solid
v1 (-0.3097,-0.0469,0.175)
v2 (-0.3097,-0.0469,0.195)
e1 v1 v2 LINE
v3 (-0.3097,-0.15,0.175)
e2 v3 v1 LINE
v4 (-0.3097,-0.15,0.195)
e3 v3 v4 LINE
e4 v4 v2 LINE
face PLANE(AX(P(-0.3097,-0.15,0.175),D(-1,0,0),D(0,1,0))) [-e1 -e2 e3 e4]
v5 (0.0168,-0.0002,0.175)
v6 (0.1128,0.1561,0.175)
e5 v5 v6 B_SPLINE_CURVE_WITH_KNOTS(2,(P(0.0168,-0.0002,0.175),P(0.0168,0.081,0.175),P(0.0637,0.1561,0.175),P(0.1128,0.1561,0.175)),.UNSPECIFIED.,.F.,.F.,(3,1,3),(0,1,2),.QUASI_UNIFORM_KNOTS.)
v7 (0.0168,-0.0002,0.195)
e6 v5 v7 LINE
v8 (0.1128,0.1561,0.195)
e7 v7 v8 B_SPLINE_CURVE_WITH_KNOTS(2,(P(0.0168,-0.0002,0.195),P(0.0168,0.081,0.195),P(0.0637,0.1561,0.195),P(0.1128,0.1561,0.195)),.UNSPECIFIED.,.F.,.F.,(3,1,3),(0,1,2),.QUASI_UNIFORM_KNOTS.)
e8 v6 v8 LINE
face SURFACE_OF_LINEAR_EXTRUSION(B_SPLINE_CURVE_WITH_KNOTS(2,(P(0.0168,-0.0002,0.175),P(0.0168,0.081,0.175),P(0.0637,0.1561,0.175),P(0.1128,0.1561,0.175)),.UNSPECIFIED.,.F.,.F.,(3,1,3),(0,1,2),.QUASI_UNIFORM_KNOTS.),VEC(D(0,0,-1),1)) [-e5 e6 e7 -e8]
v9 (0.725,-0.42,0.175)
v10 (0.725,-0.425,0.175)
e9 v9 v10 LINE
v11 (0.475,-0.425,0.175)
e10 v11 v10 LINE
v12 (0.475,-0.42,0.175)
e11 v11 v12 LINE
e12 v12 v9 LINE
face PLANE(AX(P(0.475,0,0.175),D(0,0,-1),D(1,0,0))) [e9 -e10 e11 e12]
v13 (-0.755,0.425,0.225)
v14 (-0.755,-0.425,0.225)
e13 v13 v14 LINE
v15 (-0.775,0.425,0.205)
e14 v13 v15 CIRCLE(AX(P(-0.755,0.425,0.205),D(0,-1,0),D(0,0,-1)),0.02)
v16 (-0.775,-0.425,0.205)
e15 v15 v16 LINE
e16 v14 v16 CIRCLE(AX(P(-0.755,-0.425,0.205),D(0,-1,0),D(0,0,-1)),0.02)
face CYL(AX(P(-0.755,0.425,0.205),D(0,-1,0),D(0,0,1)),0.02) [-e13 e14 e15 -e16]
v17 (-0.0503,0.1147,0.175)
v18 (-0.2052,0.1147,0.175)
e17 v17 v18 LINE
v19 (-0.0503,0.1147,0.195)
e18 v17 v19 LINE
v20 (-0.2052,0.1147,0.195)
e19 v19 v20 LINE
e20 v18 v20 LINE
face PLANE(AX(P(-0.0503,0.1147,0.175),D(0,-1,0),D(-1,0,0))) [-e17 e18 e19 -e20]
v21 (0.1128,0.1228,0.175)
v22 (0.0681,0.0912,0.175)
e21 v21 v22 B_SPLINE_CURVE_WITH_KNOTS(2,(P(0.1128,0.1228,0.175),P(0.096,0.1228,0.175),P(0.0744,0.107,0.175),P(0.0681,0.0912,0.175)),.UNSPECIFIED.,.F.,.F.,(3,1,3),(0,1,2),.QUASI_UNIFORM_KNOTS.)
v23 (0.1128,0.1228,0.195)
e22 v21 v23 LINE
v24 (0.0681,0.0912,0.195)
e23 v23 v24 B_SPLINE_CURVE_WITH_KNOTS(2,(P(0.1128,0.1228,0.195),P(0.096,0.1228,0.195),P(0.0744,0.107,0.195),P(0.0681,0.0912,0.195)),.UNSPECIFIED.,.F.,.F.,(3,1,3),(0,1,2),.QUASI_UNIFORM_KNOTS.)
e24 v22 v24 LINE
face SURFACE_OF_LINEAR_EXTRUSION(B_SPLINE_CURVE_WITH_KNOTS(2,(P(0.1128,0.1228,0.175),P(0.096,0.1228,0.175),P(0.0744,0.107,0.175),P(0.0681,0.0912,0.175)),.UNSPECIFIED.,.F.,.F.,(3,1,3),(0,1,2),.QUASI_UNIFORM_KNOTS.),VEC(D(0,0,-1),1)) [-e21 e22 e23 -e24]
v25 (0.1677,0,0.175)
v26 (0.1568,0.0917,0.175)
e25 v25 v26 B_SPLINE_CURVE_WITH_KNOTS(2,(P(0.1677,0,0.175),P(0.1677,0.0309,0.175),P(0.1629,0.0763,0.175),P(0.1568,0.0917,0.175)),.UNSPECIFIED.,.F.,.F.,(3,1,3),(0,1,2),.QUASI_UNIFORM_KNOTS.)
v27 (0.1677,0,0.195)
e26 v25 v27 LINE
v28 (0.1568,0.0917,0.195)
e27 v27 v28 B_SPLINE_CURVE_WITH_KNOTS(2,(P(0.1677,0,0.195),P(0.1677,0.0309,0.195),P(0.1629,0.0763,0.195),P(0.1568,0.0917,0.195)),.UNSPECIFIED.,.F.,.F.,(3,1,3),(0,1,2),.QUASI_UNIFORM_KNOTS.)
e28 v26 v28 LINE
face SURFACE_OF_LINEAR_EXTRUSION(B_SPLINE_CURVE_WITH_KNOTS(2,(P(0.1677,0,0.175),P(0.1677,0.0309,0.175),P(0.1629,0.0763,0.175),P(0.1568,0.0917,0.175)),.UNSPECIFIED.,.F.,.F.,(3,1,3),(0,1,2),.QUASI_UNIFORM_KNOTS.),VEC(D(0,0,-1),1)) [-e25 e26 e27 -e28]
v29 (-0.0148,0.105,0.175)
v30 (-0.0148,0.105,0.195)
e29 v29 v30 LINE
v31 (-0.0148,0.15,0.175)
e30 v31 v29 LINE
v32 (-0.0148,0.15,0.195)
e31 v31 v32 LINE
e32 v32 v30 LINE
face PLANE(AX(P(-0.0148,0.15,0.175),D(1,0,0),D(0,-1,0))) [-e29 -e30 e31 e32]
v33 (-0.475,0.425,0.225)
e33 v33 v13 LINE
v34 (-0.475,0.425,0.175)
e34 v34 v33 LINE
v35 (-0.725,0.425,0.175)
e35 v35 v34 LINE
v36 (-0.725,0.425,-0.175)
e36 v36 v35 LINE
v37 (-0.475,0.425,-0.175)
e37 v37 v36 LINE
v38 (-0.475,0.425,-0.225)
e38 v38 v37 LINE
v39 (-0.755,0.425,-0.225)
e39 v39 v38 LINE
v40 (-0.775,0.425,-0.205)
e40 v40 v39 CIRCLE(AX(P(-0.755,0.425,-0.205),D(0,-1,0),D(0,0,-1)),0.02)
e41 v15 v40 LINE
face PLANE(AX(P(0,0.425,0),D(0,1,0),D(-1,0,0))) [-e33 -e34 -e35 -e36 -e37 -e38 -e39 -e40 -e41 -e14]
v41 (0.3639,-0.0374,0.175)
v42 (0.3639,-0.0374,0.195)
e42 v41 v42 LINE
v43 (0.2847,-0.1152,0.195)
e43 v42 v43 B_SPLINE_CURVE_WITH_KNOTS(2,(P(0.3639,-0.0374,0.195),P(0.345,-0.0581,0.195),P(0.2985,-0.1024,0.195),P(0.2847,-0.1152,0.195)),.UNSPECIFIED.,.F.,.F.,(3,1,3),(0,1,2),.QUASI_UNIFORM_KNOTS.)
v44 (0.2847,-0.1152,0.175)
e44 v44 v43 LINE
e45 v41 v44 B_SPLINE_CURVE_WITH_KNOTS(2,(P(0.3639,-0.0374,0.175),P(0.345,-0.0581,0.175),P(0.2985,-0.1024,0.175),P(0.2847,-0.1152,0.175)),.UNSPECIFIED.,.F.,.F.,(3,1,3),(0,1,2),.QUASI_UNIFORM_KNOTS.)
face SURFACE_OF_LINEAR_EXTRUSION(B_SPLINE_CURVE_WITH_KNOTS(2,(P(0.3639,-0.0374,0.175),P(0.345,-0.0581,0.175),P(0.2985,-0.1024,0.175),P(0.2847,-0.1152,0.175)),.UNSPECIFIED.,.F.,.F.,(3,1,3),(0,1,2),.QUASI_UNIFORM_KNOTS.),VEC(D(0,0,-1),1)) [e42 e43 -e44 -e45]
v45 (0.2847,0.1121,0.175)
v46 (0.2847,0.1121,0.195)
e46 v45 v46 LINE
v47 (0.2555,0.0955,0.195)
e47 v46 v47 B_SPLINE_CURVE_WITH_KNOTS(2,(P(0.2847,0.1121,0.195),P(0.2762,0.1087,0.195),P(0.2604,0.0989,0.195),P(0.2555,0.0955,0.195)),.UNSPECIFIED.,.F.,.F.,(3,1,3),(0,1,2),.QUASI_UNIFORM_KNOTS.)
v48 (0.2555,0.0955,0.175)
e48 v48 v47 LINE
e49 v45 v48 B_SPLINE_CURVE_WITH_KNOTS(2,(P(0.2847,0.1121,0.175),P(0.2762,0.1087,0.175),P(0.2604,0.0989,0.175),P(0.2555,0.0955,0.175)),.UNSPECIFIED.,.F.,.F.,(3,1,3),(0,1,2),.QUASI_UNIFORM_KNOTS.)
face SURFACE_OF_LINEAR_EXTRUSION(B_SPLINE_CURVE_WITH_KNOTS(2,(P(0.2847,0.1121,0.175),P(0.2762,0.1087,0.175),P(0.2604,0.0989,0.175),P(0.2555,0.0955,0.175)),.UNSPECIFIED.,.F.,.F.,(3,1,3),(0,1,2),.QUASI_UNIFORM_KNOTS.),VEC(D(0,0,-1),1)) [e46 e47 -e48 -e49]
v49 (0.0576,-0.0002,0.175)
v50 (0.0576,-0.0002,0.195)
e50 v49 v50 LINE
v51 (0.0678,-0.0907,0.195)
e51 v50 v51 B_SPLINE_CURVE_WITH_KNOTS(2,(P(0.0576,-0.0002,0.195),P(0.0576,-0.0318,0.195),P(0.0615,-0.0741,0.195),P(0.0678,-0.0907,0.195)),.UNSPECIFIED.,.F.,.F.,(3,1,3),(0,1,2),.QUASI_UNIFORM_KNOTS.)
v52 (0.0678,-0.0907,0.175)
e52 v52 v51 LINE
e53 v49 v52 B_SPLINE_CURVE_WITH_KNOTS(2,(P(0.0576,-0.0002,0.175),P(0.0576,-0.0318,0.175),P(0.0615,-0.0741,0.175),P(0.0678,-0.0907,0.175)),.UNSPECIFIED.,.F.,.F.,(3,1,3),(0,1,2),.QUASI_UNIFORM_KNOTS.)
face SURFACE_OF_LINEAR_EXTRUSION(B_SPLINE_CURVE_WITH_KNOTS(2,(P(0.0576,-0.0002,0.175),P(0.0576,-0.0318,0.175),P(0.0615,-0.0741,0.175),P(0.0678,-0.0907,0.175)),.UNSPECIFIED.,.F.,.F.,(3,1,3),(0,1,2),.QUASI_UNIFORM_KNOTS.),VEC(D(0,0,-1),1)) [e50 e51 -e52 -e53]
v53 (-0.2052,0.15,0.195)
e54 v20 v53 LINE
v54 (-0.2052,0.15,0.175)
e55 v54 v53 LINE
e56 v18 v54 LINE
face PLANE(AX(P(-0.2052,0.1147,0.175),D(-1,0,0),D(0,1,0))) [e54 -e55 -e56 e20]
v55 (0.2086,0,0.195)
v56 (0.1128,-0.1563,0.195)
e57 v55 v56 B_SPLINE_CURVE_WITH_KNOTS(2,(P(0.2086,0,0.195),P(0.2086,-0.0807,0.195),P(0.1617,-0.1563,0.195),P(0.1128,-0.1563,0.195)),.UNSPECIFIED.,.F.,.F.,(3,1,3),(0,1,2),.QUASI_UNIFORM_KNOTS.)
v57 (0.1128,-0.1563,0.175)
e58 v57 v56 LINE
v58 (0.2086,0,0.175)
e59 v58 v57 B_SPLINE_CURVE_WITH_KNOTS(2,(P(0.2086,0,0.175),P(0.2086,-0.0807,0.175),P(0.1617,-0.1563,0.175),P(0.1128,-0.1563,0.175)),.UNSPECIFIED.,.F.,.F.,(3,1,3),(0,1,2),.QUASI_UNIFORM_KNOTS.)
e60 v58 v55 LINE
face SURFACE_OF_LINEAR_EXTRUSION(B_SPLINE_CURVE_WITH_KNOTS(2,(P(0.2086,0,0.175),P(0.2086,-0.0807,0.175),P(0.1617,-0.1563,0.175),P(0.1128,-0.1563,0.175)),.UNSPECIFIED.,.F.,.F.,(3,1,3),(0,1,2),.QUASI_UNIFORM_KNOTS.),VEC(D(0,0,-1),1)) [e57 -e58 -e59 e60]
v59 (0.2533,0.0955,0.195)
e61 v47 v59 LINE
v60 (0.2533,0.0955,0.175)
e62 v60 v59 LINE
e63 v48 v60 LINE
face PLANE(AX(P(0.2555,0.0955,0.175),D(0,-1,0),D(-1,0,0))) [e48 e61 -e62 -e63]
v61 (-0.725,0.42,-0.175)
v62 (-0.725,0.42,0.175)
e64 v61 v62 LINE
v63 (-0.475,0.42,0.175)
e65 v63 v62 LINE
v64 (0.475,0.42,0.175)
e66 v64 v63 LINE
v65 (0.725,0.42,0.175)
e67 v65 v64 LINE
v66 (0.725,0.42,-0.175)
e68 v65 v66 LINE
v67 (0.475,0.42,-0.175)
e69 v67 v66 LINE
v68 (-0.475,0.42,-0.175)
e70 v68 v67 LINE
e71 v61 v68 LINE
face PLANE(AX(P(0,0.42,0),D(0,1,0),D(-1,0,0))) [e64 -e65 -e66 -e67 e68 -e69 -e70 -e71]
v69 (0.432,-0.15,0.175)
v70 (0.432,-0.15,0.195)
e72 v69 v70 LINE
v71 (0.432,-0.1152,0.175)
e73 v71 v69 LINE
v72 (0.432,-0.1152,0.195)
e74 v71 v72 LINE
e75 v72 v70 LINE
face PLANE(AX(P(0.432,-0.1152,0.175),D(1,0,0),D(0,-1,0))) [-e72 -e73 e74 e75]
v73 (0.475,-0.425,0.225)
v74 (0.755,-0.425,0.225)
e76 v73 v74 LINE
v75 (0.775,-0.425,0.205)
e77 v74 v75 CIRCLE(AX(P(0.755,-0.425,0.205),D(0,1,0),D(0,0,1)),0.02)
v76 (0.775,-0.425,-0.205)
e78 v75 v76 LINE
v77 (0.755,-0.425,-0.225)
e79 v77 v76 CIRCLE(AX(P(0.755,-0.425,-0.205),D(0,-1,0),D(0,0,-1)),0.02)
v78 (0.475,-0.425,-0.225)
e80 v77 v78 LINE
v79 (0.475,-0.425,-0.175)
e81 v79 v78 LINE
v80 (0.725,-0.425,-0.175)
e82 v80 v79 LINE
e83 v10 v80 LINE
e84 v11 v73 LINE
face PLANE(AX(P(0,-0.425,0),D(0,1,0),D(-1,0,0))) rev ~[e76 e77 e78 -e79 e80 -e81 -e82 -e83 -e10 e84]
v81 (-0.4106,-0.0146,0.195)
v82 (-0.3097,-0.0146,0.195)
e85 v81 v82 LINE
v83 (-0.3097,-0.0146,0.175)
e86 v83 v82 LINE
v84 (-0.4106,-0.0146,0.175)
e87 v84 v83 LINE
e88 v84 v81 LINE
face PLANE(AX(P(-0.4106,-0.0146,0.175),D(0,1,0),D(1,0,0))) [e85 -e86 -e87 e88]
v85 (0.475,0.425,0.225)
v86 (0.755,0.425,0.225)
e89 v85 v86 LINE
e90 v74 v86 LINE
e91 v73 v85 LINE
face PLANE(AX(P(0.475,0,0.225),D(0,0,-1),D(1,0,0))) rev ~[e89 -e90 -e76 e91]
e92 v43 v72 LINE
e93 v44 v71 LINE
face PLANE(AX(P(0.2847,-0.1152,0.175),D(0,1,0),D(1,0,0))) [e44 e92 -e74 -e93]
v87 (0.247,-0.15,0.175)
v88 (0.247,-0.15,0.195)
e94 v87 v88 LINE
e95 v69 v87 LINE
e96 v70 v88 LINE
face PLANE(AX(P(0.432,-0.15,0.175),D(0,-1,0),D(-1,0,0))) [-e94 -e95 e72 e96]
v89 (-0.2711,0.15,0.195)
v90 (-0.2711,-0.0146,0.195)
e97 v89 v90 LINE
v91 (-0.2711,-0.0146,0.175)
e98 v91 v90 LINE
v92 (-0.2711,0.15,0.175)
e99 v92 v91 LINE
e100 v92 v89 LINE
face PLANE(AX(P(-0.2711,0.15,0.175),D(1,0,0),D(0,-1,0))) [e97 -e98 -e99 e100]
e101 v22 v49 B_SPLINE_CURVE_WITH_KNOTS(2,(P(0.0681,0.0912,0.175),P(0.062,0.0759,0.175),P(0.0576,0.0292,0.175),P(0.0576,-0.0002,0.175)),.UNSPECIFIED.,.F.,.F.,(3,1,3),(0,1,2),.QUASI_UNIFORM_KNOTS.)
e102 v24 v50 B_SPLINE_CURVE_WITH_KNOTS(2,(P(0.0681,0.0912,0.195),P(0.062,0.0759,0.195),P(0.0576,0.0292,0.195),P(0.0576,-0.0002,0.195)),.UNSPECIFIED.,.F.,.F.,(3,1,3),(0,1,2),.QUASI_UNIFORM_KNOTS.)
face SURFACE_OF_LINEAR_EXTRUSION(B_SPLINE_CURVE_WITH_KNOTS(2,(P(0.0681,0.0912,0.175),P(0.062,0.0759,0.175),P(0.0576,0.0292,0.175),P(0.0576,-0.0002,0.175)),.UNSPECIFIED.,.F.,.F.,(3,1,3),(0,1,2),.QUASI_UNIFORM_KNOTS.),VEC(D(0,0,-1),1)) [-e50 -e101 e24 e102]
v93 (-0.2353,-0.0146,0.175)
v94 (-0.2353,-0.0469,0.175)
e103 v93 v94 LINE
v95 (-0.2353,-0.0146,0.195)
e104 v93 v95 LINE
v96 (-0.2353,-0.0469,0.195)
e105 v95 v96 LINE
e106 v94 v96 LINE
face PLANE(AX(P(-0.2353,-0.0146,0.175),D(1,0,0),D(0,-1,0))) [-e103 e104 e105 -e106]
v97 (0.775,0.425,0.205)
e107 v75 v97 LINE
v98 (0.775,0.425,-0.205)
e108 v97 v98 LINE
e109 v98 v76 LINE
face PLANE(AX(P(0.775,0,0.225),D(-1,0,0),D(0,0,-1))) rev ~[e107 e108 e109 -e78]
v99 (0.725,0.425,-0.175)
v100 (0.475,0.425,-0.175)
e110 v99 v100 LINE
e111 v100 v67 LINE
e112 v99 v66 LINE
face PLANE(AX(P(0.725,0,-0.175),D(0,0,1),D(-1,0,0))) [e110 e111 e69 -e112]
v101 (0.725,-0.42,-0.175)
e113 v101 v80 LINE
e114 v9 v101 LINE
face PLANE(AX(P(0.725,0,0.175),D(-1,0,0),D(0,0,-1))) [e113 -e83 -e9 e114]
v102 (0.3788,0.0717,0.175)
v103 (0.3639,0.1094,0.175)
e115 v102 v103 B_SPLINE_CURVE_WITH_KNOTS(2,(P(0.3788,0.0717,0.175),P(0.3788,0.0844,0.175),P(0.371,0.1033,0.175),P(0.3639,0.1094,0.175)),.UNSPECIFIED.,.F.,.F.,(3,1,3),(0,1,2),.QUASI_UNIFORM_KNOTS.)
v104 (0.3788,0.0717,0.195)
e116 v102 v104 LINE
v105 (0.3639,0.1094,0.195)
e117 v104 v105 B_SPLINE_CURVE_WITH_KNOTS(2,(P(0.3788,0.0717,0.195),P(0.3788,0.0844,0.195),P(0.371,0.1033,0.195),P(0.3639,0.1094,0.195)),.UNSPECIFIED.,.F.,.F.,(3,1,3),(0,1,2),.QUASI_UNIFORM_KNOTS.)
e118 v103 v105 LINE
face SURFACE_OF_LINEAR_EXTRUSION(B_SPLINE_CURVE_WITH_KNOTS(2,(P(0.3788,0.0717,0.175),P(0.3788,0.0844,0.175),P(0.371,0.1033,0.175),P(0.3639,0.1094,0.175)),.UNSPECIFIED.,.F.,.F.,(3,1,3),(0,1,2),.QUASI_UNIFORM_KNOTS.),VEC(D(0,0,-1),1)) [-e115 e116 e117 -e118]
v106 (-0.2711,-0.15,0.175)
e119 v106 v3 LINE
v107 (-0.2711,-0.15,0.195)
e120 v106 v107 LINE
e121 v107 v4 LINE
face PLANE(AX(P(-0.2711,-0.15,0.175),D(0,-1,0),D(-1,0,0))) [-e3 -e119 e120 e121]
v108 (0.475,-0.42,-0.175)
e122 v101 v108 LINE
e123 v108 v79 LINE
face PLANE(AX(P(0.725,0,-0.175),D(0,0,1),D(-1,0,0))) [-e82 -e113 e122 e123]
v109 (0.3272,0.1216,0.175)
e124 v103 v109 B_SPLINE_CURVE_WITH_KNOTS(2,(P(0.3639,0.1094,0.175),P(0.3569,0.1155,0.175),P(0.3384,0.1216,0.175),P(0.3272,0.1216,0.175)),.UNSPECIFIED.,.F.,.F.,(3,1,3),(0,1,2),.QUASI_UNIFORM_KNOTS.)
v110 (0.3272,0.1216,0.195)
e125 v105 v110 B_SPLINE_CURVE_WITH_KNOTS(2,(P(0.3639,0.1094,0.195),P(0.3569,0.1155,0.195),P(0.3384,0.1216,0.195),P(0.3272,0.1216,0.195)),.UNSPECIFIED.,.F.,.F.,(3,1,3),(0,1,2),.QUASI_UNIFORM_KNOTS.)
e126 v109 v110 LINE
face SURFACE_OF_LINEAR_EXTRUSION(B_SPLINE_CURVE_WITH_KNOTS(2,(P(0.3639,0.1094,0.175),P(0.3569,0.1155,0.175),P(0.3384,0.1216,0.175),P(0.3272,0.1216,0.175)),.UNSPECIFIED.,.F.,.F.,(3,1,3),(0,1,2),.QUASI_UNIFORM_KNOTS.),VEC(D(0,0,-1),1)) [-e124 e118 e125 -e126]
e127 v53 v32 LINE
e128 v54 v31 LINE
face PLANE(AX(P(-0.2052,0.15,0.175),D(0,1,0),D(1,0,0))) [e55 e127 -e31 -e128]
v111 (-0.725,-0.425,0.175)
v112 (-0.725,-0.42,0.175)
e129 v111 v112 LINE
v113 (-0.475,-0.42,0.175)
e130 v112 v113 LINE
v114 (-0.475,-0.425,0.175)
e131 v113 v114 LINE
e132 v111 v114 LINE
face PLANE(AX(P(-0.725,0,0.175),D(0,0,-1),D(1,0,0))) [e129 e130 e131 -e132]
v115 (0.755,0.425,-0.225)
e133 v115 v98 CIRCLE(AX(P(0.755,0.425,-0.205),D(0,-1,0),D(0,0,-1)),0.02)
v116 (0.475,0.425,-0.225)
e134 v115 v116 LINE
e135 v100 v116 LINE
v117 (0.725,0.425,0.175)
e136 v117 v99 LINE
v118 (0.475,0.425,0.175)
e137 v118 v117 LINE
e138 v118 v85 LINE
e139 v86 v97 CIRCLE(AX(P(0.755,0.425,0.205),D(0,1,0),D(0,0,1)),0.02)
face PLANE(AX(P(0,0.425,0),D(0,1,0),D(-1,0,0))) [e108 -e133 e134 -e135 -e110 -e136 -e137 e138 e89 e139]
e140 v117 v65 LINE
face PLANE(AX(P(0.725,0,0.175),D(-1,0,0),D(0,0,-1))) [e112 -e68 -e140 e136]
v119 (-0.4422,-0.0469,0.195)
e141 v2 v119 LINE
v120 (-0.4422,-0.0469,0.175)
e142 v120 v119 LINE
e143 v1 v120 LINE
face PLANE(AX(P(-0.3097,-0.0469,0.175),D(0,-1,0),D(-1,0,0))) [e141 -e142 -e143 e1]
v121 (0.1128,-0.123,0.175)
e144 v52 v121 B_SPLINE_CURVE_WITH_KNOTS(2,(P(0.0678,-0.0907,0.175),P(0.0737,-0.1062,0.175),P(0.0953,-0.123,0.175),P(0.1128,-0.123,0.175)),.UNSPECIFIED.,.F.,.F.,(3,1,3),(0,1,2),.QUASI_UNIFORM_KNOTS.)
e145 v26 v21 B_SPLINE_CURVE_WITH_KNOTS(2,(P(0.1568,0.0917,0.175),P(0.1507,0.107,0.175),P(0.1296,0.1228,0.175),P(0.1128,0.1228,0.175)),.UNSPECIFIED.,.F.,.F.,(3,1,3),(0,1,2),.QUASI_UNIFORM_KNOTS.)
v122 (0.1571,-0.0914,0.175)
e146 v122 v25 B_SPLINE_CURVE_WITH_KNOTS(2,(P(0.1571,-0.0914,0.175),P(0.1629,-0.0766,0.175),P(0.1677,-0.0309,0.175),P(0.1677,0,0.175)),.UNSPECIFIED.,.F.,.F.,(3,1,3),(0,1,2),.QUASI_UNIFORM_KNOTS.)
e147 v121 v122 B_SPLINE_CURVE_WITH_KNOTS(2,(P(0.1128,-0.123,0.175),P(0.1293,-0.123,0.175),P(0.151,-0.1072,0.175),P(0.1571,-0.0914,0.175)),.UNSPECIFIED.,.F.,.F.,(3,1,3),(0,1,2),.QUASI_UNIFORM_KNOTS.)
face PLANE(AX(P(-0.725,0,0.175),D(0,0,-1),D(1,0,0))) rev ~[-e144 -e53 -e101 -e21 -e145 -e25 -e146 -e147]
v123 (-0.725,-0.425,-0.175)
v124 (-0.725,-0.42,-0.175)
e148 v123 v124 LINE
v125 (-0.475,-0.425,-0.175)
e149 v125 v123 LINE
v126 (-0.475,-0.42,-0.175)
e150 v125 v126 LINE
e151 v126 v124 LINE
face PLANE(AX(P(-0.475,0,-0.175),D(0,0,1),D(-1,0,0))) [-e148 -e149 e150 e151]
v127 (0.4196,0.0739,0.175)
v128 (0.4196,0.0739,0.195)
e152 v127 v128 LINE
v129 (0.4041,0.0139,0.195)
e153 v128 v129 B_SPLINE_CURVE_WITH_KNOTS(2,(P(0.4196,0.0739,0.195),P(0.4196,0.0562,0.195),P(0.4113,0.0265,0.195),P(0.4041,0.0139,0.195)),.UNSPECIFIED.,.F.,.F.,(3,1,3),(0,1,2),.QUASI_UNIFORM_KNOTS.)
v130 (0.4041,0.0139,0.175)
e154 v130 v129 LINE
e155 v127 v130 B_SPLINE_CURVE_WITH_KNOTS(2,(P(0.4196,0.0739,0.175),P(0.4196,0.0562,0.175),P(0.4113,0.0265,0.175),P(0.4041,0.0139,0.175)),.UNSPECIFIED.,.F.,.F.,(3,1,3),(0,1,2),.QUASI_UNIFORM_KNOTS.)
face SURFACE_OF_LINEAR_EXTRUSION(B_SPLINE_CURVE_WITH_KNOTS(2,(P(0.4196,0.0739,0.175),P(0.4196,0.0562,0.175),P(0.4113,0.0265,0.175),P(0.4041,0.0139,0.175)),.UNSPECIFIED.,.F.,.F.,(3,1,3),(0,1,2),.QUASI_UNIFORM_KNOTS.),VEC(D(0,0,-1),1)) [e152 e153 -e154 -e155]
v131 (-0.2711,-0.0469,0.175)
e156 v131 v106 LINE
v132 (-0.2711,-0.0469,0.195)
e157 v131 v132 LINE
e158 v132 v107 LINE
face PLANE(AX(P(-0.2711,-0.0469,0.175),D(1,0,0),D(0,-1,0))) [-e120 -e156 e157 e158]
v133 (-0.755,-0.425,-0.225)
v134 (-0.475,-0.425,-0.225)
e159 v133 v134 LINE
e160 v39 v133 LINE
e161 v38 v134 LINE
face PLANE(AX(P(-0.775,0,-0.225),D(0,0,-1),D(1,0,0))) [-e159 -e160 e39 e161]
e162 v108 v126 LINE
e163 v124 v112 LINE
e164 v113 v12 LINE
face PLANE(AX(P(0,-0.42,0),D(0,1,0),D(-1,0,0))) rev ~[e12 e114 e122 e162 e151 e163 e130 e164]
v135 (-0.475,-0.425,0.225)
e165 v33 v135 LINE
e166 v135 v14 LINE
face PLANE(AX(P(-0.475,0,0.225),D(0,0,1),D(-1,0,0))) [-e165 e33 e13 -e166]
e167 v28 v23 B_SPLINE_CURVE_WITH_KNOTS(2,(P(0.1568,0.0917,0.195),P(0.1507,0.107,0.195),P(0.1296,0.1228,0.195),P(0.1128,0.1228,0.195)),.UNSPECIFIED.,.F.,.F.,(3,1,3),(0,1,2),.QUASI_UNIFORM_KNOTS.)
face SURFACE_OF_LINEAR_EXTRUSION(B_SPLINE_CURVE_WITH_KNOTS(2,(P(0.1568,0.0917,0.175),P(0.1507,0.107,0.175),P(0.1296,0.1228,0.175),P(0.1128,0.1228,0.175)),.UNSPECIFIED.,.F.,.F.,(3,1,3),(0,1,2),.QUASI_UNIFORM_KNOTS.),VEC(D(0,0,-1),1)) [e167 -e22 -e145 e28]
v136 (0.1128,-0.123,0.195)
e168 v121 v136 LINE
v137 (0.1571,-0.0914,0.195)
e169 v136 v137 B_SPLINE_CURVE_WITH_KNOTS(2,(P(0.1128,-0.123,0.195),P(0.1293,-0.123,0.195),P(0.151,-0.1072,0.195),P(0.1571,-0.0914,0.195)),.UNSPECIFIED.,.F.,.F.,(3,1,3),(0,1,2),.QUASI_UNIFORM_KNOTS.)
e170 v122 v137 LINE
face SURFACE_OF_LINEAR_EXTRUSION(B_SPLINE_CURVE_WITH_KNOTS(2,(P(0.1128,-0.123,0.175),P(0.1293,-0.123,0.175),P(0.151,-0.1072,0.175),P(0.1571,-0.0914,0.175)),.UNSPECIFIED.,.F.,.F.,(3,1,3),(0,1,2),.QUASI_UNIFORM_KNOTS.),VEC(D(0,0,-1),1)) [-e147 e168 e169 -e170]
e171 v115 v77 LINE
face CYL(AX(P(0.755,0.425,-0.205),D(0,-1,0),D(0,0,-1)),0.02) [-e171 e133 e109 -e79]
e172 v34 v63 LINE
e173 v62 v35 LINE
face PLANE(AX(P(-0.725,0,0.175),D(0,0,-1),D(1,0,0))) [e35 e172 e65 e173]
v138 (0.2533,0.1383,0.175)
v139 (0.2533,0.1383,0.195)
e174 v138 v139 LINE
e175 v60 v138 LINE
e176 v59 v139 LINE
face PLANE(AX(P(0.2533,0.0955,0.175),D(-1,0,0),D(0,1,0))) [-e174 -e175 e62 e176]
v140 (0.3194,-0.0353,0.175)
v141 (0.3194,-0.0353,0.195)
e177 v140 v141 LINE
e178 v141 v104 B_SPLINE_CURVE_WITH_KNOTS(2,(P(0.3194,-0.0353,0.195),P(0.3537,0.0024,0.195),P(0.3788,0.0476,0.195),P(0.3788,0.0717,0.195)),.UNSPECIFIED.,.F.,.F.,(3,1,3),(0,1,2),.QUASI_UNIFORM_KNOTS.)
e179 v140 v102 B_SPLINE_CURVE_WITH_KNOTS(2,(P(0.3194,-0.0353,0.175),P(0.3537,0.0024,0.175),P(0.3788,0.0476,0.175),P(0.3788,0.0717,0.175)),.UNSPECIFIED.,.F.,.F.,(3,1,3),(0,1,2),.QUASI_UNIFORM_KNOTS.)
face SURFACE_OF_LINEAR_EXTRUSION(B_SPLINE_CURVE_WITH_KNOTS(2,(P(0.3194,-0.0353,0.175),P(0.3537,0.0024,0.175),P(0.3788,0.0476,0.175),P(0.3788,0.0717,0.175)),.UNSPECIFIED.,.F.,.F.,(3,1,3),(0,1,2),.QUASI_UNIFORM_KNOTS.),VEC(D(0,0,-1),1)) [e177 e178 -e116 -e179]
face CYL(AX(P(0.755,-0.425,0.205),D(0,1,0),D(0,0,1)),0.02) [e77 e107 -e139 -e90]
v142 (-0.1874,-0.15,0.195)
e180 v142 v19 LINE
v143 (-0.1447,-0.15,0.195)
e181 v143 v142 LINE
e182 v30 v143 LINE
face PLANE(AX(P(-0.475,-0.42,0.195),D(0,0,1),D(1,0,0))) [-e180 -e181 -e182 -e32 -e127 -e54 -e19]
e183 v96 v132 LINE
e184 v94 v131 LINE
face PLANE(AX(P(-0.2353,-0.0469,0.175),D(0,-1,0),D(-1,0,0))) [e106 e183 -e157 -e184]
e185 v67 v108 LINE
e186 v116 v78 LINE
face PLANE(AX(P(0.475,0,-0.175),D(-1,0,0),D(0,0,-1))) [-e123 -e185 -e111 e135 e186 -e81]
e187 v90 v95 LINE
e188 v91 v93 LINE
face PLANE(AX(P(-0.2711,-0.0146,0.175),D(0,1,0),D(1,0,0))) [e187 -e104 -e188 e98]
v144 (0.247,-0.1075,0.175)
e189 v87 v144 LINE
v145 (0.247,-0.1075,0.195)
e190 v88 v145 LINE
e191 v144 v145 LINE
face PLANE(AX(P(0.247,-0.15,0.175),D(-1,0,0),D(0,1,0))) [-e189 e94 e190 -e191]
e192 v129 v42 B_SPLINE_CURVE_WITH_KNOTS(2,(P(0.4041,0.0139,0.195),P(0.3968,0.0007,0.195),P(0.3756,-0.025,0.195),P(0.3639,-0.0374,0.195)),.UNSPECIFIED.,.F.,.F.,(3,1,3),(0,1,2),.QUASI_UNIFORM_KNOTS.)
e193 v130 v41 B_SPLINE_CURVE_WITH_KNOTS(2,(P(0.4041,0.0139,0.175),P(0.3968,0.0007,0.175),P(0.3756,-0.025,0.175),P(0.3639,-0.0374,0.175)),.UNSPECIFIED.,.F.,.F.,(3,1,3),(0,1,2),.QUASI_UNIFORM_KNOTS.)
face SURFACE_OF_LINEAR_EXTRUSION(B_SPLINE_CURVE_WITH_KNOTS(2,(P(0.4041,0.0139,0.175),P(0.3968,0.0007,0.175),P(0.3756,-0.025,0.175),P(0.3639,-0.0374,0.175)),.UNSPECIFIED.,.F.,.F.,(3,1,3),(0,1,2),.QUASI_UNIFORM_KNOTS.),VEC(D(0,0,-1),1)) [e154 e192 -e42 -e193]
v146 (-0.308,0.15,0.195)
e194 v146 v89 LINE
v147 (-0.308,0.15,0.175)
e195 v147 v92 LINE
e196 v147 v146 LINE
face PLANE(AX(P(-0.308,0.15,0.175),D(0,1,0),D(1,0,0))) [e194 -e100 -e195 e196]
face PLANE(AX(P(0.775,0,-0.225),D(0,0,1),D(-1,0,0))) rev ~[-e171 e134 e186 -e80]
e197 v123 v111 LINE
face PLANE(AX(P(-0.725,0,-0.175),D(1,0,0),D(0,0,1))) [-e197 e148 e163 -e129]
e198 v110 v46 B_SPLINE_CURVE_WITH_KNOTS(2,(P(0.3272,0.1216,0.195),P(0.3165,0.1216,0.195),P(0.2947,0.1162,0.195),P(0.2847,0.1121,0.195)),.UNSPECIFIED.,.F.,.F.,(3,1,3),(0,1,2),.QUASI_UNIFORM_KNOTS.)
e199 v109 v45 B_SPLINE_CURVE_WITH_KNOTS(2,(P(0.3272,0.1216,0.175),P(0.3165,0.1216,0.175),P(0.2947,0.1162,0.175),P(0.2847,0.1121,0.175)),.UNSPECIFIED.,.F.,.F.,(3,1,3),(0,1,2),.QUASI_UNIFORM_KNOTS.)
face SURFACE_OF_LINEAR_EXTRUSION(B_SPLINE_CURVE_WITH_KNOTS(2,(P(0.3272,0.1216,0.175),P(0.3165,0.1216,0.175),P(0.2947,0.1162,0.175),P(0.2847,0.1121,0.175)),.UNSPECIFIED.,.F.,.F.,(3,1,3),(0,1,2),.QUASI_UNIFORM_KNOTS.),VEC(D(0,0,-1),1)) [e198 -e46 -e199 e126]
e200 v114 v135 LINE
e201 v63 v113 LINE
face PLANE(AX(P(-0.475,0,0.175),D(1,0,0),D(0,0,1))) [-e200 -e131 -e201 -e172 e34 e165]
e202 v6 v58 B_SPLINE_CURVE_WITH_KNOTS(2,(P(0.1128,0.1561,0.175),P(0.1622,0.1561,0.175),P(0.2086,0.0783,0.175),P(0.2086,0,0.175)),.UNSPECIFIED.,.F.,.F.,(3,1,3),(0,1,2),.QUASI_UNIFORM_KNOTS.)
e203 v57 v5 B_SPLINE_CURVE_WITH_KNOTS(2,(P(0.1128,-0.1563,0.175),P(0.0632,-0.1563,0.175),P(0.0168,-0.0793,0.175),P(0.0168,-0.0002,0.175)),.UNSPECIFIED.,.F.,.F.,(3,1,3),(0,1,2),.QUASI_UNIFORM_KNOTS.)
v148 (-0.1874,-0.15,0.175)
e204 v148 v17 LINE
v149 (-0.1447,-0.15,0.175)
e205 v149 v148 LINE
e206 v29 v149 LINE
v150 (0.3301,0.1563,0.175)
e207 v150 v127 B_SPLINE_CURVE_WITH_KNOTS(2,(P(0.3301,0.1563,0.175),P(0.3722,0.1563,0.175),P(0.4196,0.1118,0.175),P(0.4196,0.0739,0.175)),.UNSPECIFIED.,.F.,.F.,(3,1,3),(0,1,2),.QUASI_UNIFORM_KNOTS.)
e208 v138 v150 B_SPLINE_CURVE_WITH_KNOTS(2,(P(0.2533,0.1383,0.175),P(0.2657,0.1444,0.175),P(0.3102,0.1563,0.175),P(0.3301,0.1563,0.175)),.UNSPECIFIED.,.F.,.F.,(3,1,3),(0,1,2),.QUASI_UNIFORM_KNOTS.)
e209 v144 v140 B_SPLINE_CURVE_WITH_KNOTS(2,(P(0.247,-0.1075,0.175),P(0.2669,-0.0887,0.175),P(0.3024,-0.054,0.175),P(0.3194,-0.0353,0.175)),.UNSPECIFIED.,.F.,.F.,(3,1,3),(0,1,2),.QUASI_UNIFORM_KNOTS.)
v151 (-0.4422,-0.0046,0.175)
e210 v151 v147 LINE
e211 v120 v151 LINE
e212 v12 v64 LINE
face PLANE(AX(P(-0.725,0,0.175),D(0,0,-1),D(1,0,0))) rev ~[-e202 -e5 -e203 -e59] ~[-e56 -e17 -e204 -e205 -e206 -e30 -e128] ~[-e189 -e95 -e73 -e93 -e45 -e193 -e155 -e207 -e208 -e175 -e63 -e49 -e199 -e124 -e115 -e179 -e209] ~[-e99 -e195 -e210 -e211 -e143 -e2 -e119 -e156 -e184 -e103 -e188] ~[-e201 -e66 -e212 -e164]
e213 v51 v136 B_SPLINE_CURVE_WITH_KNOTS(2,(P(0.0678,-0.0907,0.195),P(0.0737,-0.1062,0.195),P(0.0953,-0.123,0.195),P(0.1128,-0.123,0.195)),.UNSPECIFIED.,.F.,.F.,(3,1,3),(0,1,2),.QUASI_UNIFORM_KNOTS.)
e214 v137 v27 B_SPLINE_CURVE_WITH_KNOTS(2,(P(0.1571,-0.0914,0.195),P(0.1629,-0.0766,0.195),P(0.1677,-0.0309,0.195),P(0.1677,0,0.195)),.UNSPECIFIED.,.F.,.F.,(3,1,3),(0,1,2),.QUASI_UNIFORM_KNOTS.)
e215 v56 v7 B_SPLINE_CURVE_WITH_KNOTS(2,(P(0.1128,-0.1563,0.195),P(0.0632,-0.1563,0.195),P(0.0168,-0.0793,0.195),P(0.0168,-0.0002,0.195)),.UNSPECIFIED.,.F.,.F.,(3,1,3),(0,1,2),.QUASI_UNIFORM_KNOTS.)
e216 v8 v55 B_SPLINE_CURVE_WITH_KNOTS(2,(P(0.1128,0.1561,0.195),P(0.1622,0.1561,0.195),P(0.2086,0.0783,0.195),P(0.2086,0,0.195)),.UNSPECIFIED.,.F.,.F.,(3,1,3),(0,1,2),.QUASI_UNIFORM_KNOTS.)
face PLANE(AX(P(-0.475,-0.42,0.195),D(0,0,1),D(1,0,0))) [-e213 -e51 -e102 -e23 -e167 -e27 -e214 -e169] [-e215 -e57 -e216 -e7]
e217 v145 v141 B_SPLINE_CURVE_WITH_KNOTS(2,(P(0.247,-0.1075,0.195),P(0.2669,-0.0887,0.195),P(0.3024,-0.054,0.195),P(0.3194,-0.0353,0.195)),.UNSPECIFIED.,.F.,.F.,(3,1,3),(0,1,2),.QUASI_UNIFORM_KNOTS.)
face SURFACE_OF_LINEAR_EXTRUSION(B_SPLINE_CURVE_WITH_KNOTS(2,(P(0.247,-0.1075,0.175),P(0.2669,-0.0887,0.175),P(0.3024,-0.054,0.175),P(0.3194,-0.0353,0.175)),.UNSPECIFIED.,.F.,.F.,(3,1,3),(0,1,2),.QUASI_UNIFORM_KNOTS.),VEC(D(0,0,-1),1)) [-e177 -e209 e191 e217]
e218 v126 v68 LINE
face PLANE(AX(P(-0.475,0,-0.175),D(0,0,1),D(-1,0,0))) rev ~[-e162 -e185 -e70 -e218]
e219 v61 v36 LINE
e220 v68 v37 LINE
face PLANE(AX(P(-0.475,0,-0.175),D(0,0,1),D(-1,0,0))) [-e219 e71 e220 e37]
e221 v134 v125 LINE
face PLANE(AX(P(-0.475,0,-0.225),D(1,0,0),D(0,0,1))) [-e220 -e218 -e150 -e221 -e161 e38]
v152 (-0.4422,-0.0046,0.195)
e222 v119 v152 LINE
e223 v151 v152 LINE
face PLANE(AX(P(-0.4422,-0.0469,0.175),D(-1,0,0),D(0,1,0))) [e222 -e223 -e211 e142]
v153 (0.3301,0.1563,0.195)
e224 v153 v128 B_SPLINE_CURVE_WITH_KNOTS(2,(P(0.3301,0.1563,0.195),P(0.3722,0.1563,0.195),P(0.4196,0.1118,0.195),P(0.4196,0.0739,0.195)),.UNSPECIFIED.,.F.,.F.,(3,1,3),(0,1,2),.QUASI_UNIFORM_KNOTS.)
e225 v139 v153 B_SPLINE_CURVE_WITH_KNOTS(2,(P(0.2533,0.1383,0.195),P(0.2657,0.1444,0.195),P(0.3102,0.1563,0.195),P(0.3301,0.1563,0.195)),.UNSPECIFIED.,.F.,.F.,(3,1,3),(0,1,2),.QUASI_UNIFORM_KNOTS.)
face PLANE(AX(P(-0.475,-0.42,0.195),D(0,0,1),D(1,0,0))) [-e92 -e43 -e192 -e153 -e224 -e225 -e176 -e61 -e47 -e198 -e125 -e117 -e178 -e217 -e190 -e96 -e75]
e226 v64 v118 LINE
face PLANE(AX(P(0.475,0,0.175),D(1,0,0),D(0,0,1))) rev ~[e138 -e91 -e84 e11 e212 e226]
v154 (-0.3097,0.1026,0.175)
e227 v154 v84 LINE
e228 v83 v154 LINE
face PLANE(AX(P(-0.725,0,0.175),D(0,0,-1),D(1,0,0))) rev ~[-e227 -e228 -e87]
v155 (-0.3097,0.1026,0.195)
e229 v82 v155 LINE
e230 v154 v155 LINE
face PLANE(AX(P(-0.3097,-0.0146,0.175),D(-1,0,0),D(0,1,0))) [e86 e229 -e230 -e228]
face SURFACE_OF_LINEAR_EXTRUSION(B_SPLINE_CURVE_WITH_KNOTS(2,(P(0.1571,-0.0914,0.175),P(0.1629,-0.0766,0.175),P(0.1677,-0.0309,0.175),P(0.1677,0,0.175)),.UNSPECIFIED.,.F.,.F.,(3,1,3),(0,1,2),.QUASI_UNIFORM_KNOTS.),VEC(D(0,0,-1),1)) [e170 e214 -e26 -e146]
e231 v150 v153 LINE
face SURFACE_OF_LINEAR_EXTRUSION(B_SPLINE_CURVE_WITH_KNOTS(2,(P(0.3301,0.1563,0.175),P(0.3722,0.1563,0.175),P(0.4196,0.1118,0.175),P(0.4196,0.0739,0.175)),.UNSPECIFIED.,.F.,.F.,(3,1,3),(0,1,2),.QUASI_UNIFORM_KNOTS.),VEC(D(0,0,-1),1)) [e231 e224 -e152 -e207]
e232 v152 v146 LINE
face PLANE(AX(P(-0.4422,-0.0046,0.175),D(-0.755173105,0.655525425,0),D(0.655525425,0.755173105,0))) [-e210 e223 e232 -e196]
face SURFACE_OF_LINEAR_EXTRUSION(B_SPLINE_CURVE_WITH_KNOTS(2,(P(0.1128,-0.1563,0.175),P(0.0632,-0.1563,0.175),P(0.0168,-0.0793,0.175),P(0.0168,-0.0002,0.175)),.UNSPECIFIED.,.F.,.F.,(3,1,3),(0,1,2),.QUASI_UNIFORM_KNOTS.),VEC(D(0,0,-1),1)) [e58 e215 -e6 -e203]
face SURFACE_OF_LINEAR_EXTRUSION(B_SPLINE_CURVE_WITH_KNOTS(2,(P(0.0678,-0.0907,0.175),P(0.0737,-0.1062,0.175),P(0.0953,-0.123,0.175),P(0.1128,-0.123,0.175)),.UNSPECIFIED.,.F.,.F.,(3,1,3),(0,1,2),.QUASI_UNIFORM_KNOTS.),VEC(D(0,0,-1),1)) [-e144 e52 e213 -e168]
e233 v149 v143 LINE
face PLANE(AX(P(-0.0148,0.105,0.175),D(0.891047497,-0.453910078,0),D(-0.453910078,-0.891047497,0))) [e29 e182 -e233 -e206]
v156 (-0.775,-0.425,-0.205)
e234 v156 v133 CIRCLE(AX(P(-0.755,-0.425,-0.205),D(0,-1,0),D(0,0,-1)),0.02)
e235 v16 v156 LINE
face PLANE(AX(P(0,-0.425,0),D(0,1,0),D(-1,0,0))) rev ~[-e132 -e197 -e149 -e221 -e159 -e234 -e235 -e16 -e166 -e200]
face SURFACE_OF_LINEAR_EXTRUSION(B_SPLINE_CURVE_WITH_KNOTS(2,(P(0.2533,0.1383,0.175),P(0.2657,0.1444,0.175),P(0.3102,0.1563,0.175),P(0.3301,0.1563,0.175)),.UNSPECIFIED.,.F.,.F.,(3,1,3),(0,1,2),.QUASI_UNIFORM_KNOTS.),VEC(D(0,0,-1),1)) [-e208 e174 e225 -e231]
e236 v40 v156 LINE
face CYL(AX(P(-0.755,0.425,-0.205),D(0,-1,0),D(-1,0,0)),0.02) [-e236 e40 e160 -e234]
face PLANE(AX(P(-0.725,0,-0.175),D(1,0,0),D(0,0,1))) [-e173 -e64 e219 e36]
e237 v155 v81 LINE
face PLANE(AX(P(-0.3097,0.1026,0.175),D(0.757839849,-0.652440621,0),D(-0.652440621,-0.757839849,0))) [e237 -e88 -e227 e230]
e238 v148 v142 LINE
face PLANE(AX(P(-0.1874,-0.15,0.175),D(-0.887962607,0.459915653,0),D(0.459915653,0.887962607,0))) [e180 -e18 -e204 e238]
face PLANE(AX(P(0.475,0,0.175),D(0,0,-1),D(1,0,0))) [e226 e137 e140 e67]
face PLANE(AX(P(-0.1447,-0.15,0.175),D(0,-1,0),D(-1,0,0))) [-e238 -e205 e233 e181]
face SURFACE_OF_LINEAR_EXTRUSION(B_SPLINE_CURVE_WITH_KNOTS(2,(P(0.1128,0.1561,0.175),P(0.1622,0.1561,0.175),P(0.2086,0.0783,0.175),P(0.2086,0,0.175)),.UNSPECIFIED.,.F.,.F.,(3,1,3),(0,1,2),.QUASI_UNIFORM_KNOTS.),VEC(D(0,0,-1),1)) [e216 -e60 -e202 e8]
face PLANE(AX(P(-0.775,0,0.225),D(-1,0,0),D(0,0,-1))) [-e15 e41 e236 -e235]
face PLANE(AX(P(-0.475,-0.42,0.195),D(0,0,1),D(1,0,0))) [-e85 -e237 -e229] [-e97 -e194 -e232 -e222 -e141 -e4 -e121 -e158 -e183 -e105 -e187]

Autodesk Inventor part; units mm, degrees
ref_plane "YZ Plane" through (0, 0, 0) normal (1, 0, 0) x (0, 1, 0)
ref_plane "XZ Plane" through (0, 0, 0) normal (0, 1, 0) x (-1, 0, 0)
ref_plane "XY Plane" through (0, 0, 0) normal (0, 0, 1) x (1, 0, 0)
sketch "Sketch1" plane through (0, 0, 0) normal (0, 1, 0) x (-1, 0, 0)
  line L0 (0.725, 0.175) -> (-0.725, 0.175)
  line L1 (-0.725, 0.175) -> (-0.725, -0.175)
  line L2 (-0.725, -0.175) -> (0.725, -0.175)
  line L3 (0.725, -0.175) -> (0.725, 0.175)
  line L4 (0.475, 0.175) -> (0.475, 0.225)
  line L5 (0.475, 0.225) -> (0.775, 0.225)
  line L6 (0.775, 0.225) -> (0.775, -0.225)
  line L7 (0.775, -0.225) -> (0.475, -0.225)
  line L8 (0.475, -0.225) -> (0.475, -0.175)
  line L9 (-0.475, 0.175) -> (-0.475, 0.225)
  line L10 (-0.475, 0.225) -> (-0.775, 0.225)
  line L11 (-0.775, 0.225) -> (-0.775, -0.225)
  line L12 (-0.775, -0.225) -> (-0.475, -0.225)
  line L13 (-0.475, -0.175) -> (-0.475, -0.225)
  line L14 (0.475, 0.175) -> (-0.475, 0.175)
  point P0 (0, 0)
  point P1 (0, 0.175)
  point P2 (0.725, 0)
  dimension "d0" = 1.55
  dimension "d1" = 0.05
  dimension "d2" = 0.05
  dimension "d3" = 0.45
  dimension "d4" = 0.3
extrude "Extrusion1" add sketch "Sketch1" along normal mid plane 0.85 contours L0 L4 L5 L6 L7 L8 L2 L3 | L0 L1 L2 L13 L12 L11 L10 L9
extrude "Extrusion2" add sketch "Sketch1" along normal mid plane 0.84 contours L3 L2 L1 L0
sketch "Sketch2" plane through (-0.475, -0.42, 0.175) normal (0, 0, 1) x (1, 0, 0)
  line L0 (0, 0) -> (0, 0.84) projected
  line L1 (0.95, 0) -> (0, 0) projected
  line L2 (0.95, 0) -> (0.95, 0.84) projected
  line L3 (0, 0.84) -> (0.95, 0.84) projected
  line L4 (0, 0.42) -> (0.95, 0.42) construction
  line L5 (0.2397, 0.3731) -> (0.2039, 0.3731)
  line L6 (0.2039, 0.3731) -> (0.2039, 0.27)
  line L7 (0.2039, 0.27) -> (0.1653, 0.27)
  line L8 (0.1653, 0.27) -> (0.1653, 0.3731)
  line L9 (0.1653, 0.3731) -> (0.0328, 0.3731)
  line L10 (0.0328, 0.3731) -> (0.0328, 0.4154)
  line L11 (0.0328, 0.4154) -> (0.167, 0.57)
  line L12 (0.167, 0.57) -> (0.2039, 0.57)
  line L13 (0.2039, 0.57) -> (0.2039, 0.4054)
  line L14 (0.2039, 0.4054) -> (0.2397, 0.4054)
  line L15 (0.2397, 0.4054) -> (0.2397, 0.3731)
  line L16 (0.1653, 0.4054) -> (0.1653, 0.5226)
  line L17 (0.1653, 0.5226) -> (0.0644, 0.4054)
  line L18 (0.0644, 0.4054) -> (0.1653, 0.4054)
  line L19 (0.4602, 0.525) -> (0.3303, 0.27)
  line L20 (0.3303, 0.27) -> (0.2876, 0.27)
  line L21 (0.2876, 0.27) -> (0.4247, 0.5347)
  line L22 (0.4247, 0.5347) -> (0.2698, 0.5347)
  line L23 (0.2698, 0.5347) -> (0.2698, 0.57)
  line L24 (0.2698, 0.57) -> (0.4602, 0.57)
  line L25 (0.4602, 0.57) -> (0.4602, 0.525)
  spline S0 degree 2 poles (0.6836, 0.42) (0.6836, 0.3393) (0.6367, 0.2637) (0.5878, 0.2637) knots 0 0 0 1 2 2 2
  spline S1 degree 2 poles (0.5878, 0.2637) (0.5382, 0.2637) (0.4918, 0.3407) (0.4918, 0.4198) knots 0 0 0 1 2 2 2
  spline S2 degree 2 poles (0.4918, 0.4198) (0.4918, 0.501) (0.5387, 0.5761) (0.5878, 0.5761) knots 0 0 0 1 2 2 2
  spline S3 degree 2 poles (0.5878, 0.5761) (0.6372, 0.5761) (0.6836, 0.4983) (0.6836, 0.42) knots 0 0 0 1 2 2 2
  spline S4 degree 2 poles (0.6321, 0.3286) (0.6379, 0.3434) (0.6427, 0.3891) (0.6427, 0.42) knots 0 0 0 1 2 2 2
  spline S5 degree 2 poles (0.6427, 0.42) (0.6427, 0.4509) (0.6379, 0.4963) (0.6318, 0.5117) knots 0 0 0 1 2 2 2
  spline S6 degree 2 poles (0.6318, 0.5117) (0.6257, 0.527) (0.6046, 0.5428) (0.5878, 0.5428) knots 0 0 0 1 2 2 2
  spline S7 degree 2 poles (0.5878, 0.5428) (0.571, 0.5428) (0.5494, 0.527) (0.5431, 0.5112) knots 0 0 0 1 2 2 2
  spline S8 degree 2 poles (0.5431, 0.5112) (0.537, 0.4959) (0.5326, 0.4492) (0.5326, 0.4198) knots 0 0 0 1 2 2 2
  spline S9 degree 2 poles (0.5326, 0.4198) (0.5326, 0.3882) (0.5365, 0.3459) (0.5428, 0.3293) knots 0 0 0 1 2 2 2
  spline S10 degree 2 poles (0.5428, 0.3293) (0.5487, 0.3138) (0.5703, 0.297) (0.5878, 0.297) knots 0 0 0 1 2 2 2
  spline S11 degree 2 poles (0.5878, 0.297) (0.6043, 0.297) (0.626, 0.3128) (0.6321, 0.3286) knots 0 0 0 1 2 2 2
  line L26 (0.907, 0.27) -> (0.722, 0.27)
  line L27 (0.722, 0.27) -> (0.722, 0.3125)
  spline S12 degree 2 poles (0.722, 0.3125) (0.7419, 0.3313) (0.7774, 0.366) (0.7944, 0.3847) knots 0 0 0 1 2 2 2
  spline S13 degree 2 poles (0.7944, 0.3847) (0.8287, 0.4224) (0.8538, 0.4676) (0.8538, 0.4917) knots 0 0 0 1 2 2 2
  spline S14 degree 2 poles (0.8538, 0.4917) (0.8538, 0.5044) (0.846, 0.5233) (0.8389, 0.5294) knots 0 0 0 1 2 2 2
  spline S15 degree 2 poles (0.8389, 0.5294) (0.8319, 0.5355) (0.8134, 0.5416) (0.8022, 0.5416) knots 0 0 0 1 2 2 2
  spline S16 degree 2 poles (0.8022, 0.5416) (0.7915, 0.5416) (0.7697, 0.5362) (0.7597, 0.5321) knots 0 0 0 1 2 2 2
  spline S17 degree 2 poles (0.7597, 0.5321) (0.7512, 0.5287) (0.7354, 0.5189) (0.7305, 0.5155) knots 0 0 0 1 2 2 2
  line L28 (0.7305, 0.5155) -> (0.7283, 0.5155)
  line L29 (0.7283, 0.5155) -> (0.7283, 0.5583)
  spline S18 degree 2 poles (0.7283, 0.5583) (0.7407, 0.5644) (0.7852, 0.5763) (0.8051, 0.5763) knots 0 0 0 1 2 2 2
  spline S19 degree 2 poles (0.8051, 0.5763) (0.8472, 0.5763) (0.8946, 0.5318) (0.8946, 0.4939) knots 0 0 0 1 2 2 2
  spline S20 degree 2 poles (0.8946, 0.4939) (0.8946, 0.4762) (0.8863, 0.4465) (0.8791, 0.4339) knots 0 0 0 1 2 2 2
  spline S21 degree 2 poles (0.8791, 0.4339) (0.8718, 0.4207) (0.8506, 0.395) (0.8389, 0.3826) knots 0 0 0 1 2 2 2
  spline S22 degree 2 poles (0.8389, 0.3826) (0.82, 0.3619) (0.7735, 0.3176) (0.7597, 0.3048) knots 0 0 0 1 2 2 2
  line L30 (0.7597, 0.3048) -> (0.907, 0.3048)
  line L31 (0.907, 0.3048) -> (0.907, 0.27)
  point P0 (0.475, 0.42)
extrude "Extrusion3" add sketch "Sketch2" along normal blind 0.02 contours L5 L6 L7 L8 L9 L10 L11 L12 L13 L14 L15 | L19 L20 L21 L22 L23 L24 L25 | S0 S1 S2 S3 | L26 L27 S12 S13 S14 S15 S16 S17 L28 L29 S18 S19 S20 S21 S22 L30 L31
fillet "Fillet1" radius 0.02 4 edges at (-0.775, 0, 0.225) (-0.775, 0, -0.225) (0.775, 0, 0.225) (0.775, 0, -0.225)
equation "\"d2\" = d1"
properties part number "21-1001" material "Copper"
